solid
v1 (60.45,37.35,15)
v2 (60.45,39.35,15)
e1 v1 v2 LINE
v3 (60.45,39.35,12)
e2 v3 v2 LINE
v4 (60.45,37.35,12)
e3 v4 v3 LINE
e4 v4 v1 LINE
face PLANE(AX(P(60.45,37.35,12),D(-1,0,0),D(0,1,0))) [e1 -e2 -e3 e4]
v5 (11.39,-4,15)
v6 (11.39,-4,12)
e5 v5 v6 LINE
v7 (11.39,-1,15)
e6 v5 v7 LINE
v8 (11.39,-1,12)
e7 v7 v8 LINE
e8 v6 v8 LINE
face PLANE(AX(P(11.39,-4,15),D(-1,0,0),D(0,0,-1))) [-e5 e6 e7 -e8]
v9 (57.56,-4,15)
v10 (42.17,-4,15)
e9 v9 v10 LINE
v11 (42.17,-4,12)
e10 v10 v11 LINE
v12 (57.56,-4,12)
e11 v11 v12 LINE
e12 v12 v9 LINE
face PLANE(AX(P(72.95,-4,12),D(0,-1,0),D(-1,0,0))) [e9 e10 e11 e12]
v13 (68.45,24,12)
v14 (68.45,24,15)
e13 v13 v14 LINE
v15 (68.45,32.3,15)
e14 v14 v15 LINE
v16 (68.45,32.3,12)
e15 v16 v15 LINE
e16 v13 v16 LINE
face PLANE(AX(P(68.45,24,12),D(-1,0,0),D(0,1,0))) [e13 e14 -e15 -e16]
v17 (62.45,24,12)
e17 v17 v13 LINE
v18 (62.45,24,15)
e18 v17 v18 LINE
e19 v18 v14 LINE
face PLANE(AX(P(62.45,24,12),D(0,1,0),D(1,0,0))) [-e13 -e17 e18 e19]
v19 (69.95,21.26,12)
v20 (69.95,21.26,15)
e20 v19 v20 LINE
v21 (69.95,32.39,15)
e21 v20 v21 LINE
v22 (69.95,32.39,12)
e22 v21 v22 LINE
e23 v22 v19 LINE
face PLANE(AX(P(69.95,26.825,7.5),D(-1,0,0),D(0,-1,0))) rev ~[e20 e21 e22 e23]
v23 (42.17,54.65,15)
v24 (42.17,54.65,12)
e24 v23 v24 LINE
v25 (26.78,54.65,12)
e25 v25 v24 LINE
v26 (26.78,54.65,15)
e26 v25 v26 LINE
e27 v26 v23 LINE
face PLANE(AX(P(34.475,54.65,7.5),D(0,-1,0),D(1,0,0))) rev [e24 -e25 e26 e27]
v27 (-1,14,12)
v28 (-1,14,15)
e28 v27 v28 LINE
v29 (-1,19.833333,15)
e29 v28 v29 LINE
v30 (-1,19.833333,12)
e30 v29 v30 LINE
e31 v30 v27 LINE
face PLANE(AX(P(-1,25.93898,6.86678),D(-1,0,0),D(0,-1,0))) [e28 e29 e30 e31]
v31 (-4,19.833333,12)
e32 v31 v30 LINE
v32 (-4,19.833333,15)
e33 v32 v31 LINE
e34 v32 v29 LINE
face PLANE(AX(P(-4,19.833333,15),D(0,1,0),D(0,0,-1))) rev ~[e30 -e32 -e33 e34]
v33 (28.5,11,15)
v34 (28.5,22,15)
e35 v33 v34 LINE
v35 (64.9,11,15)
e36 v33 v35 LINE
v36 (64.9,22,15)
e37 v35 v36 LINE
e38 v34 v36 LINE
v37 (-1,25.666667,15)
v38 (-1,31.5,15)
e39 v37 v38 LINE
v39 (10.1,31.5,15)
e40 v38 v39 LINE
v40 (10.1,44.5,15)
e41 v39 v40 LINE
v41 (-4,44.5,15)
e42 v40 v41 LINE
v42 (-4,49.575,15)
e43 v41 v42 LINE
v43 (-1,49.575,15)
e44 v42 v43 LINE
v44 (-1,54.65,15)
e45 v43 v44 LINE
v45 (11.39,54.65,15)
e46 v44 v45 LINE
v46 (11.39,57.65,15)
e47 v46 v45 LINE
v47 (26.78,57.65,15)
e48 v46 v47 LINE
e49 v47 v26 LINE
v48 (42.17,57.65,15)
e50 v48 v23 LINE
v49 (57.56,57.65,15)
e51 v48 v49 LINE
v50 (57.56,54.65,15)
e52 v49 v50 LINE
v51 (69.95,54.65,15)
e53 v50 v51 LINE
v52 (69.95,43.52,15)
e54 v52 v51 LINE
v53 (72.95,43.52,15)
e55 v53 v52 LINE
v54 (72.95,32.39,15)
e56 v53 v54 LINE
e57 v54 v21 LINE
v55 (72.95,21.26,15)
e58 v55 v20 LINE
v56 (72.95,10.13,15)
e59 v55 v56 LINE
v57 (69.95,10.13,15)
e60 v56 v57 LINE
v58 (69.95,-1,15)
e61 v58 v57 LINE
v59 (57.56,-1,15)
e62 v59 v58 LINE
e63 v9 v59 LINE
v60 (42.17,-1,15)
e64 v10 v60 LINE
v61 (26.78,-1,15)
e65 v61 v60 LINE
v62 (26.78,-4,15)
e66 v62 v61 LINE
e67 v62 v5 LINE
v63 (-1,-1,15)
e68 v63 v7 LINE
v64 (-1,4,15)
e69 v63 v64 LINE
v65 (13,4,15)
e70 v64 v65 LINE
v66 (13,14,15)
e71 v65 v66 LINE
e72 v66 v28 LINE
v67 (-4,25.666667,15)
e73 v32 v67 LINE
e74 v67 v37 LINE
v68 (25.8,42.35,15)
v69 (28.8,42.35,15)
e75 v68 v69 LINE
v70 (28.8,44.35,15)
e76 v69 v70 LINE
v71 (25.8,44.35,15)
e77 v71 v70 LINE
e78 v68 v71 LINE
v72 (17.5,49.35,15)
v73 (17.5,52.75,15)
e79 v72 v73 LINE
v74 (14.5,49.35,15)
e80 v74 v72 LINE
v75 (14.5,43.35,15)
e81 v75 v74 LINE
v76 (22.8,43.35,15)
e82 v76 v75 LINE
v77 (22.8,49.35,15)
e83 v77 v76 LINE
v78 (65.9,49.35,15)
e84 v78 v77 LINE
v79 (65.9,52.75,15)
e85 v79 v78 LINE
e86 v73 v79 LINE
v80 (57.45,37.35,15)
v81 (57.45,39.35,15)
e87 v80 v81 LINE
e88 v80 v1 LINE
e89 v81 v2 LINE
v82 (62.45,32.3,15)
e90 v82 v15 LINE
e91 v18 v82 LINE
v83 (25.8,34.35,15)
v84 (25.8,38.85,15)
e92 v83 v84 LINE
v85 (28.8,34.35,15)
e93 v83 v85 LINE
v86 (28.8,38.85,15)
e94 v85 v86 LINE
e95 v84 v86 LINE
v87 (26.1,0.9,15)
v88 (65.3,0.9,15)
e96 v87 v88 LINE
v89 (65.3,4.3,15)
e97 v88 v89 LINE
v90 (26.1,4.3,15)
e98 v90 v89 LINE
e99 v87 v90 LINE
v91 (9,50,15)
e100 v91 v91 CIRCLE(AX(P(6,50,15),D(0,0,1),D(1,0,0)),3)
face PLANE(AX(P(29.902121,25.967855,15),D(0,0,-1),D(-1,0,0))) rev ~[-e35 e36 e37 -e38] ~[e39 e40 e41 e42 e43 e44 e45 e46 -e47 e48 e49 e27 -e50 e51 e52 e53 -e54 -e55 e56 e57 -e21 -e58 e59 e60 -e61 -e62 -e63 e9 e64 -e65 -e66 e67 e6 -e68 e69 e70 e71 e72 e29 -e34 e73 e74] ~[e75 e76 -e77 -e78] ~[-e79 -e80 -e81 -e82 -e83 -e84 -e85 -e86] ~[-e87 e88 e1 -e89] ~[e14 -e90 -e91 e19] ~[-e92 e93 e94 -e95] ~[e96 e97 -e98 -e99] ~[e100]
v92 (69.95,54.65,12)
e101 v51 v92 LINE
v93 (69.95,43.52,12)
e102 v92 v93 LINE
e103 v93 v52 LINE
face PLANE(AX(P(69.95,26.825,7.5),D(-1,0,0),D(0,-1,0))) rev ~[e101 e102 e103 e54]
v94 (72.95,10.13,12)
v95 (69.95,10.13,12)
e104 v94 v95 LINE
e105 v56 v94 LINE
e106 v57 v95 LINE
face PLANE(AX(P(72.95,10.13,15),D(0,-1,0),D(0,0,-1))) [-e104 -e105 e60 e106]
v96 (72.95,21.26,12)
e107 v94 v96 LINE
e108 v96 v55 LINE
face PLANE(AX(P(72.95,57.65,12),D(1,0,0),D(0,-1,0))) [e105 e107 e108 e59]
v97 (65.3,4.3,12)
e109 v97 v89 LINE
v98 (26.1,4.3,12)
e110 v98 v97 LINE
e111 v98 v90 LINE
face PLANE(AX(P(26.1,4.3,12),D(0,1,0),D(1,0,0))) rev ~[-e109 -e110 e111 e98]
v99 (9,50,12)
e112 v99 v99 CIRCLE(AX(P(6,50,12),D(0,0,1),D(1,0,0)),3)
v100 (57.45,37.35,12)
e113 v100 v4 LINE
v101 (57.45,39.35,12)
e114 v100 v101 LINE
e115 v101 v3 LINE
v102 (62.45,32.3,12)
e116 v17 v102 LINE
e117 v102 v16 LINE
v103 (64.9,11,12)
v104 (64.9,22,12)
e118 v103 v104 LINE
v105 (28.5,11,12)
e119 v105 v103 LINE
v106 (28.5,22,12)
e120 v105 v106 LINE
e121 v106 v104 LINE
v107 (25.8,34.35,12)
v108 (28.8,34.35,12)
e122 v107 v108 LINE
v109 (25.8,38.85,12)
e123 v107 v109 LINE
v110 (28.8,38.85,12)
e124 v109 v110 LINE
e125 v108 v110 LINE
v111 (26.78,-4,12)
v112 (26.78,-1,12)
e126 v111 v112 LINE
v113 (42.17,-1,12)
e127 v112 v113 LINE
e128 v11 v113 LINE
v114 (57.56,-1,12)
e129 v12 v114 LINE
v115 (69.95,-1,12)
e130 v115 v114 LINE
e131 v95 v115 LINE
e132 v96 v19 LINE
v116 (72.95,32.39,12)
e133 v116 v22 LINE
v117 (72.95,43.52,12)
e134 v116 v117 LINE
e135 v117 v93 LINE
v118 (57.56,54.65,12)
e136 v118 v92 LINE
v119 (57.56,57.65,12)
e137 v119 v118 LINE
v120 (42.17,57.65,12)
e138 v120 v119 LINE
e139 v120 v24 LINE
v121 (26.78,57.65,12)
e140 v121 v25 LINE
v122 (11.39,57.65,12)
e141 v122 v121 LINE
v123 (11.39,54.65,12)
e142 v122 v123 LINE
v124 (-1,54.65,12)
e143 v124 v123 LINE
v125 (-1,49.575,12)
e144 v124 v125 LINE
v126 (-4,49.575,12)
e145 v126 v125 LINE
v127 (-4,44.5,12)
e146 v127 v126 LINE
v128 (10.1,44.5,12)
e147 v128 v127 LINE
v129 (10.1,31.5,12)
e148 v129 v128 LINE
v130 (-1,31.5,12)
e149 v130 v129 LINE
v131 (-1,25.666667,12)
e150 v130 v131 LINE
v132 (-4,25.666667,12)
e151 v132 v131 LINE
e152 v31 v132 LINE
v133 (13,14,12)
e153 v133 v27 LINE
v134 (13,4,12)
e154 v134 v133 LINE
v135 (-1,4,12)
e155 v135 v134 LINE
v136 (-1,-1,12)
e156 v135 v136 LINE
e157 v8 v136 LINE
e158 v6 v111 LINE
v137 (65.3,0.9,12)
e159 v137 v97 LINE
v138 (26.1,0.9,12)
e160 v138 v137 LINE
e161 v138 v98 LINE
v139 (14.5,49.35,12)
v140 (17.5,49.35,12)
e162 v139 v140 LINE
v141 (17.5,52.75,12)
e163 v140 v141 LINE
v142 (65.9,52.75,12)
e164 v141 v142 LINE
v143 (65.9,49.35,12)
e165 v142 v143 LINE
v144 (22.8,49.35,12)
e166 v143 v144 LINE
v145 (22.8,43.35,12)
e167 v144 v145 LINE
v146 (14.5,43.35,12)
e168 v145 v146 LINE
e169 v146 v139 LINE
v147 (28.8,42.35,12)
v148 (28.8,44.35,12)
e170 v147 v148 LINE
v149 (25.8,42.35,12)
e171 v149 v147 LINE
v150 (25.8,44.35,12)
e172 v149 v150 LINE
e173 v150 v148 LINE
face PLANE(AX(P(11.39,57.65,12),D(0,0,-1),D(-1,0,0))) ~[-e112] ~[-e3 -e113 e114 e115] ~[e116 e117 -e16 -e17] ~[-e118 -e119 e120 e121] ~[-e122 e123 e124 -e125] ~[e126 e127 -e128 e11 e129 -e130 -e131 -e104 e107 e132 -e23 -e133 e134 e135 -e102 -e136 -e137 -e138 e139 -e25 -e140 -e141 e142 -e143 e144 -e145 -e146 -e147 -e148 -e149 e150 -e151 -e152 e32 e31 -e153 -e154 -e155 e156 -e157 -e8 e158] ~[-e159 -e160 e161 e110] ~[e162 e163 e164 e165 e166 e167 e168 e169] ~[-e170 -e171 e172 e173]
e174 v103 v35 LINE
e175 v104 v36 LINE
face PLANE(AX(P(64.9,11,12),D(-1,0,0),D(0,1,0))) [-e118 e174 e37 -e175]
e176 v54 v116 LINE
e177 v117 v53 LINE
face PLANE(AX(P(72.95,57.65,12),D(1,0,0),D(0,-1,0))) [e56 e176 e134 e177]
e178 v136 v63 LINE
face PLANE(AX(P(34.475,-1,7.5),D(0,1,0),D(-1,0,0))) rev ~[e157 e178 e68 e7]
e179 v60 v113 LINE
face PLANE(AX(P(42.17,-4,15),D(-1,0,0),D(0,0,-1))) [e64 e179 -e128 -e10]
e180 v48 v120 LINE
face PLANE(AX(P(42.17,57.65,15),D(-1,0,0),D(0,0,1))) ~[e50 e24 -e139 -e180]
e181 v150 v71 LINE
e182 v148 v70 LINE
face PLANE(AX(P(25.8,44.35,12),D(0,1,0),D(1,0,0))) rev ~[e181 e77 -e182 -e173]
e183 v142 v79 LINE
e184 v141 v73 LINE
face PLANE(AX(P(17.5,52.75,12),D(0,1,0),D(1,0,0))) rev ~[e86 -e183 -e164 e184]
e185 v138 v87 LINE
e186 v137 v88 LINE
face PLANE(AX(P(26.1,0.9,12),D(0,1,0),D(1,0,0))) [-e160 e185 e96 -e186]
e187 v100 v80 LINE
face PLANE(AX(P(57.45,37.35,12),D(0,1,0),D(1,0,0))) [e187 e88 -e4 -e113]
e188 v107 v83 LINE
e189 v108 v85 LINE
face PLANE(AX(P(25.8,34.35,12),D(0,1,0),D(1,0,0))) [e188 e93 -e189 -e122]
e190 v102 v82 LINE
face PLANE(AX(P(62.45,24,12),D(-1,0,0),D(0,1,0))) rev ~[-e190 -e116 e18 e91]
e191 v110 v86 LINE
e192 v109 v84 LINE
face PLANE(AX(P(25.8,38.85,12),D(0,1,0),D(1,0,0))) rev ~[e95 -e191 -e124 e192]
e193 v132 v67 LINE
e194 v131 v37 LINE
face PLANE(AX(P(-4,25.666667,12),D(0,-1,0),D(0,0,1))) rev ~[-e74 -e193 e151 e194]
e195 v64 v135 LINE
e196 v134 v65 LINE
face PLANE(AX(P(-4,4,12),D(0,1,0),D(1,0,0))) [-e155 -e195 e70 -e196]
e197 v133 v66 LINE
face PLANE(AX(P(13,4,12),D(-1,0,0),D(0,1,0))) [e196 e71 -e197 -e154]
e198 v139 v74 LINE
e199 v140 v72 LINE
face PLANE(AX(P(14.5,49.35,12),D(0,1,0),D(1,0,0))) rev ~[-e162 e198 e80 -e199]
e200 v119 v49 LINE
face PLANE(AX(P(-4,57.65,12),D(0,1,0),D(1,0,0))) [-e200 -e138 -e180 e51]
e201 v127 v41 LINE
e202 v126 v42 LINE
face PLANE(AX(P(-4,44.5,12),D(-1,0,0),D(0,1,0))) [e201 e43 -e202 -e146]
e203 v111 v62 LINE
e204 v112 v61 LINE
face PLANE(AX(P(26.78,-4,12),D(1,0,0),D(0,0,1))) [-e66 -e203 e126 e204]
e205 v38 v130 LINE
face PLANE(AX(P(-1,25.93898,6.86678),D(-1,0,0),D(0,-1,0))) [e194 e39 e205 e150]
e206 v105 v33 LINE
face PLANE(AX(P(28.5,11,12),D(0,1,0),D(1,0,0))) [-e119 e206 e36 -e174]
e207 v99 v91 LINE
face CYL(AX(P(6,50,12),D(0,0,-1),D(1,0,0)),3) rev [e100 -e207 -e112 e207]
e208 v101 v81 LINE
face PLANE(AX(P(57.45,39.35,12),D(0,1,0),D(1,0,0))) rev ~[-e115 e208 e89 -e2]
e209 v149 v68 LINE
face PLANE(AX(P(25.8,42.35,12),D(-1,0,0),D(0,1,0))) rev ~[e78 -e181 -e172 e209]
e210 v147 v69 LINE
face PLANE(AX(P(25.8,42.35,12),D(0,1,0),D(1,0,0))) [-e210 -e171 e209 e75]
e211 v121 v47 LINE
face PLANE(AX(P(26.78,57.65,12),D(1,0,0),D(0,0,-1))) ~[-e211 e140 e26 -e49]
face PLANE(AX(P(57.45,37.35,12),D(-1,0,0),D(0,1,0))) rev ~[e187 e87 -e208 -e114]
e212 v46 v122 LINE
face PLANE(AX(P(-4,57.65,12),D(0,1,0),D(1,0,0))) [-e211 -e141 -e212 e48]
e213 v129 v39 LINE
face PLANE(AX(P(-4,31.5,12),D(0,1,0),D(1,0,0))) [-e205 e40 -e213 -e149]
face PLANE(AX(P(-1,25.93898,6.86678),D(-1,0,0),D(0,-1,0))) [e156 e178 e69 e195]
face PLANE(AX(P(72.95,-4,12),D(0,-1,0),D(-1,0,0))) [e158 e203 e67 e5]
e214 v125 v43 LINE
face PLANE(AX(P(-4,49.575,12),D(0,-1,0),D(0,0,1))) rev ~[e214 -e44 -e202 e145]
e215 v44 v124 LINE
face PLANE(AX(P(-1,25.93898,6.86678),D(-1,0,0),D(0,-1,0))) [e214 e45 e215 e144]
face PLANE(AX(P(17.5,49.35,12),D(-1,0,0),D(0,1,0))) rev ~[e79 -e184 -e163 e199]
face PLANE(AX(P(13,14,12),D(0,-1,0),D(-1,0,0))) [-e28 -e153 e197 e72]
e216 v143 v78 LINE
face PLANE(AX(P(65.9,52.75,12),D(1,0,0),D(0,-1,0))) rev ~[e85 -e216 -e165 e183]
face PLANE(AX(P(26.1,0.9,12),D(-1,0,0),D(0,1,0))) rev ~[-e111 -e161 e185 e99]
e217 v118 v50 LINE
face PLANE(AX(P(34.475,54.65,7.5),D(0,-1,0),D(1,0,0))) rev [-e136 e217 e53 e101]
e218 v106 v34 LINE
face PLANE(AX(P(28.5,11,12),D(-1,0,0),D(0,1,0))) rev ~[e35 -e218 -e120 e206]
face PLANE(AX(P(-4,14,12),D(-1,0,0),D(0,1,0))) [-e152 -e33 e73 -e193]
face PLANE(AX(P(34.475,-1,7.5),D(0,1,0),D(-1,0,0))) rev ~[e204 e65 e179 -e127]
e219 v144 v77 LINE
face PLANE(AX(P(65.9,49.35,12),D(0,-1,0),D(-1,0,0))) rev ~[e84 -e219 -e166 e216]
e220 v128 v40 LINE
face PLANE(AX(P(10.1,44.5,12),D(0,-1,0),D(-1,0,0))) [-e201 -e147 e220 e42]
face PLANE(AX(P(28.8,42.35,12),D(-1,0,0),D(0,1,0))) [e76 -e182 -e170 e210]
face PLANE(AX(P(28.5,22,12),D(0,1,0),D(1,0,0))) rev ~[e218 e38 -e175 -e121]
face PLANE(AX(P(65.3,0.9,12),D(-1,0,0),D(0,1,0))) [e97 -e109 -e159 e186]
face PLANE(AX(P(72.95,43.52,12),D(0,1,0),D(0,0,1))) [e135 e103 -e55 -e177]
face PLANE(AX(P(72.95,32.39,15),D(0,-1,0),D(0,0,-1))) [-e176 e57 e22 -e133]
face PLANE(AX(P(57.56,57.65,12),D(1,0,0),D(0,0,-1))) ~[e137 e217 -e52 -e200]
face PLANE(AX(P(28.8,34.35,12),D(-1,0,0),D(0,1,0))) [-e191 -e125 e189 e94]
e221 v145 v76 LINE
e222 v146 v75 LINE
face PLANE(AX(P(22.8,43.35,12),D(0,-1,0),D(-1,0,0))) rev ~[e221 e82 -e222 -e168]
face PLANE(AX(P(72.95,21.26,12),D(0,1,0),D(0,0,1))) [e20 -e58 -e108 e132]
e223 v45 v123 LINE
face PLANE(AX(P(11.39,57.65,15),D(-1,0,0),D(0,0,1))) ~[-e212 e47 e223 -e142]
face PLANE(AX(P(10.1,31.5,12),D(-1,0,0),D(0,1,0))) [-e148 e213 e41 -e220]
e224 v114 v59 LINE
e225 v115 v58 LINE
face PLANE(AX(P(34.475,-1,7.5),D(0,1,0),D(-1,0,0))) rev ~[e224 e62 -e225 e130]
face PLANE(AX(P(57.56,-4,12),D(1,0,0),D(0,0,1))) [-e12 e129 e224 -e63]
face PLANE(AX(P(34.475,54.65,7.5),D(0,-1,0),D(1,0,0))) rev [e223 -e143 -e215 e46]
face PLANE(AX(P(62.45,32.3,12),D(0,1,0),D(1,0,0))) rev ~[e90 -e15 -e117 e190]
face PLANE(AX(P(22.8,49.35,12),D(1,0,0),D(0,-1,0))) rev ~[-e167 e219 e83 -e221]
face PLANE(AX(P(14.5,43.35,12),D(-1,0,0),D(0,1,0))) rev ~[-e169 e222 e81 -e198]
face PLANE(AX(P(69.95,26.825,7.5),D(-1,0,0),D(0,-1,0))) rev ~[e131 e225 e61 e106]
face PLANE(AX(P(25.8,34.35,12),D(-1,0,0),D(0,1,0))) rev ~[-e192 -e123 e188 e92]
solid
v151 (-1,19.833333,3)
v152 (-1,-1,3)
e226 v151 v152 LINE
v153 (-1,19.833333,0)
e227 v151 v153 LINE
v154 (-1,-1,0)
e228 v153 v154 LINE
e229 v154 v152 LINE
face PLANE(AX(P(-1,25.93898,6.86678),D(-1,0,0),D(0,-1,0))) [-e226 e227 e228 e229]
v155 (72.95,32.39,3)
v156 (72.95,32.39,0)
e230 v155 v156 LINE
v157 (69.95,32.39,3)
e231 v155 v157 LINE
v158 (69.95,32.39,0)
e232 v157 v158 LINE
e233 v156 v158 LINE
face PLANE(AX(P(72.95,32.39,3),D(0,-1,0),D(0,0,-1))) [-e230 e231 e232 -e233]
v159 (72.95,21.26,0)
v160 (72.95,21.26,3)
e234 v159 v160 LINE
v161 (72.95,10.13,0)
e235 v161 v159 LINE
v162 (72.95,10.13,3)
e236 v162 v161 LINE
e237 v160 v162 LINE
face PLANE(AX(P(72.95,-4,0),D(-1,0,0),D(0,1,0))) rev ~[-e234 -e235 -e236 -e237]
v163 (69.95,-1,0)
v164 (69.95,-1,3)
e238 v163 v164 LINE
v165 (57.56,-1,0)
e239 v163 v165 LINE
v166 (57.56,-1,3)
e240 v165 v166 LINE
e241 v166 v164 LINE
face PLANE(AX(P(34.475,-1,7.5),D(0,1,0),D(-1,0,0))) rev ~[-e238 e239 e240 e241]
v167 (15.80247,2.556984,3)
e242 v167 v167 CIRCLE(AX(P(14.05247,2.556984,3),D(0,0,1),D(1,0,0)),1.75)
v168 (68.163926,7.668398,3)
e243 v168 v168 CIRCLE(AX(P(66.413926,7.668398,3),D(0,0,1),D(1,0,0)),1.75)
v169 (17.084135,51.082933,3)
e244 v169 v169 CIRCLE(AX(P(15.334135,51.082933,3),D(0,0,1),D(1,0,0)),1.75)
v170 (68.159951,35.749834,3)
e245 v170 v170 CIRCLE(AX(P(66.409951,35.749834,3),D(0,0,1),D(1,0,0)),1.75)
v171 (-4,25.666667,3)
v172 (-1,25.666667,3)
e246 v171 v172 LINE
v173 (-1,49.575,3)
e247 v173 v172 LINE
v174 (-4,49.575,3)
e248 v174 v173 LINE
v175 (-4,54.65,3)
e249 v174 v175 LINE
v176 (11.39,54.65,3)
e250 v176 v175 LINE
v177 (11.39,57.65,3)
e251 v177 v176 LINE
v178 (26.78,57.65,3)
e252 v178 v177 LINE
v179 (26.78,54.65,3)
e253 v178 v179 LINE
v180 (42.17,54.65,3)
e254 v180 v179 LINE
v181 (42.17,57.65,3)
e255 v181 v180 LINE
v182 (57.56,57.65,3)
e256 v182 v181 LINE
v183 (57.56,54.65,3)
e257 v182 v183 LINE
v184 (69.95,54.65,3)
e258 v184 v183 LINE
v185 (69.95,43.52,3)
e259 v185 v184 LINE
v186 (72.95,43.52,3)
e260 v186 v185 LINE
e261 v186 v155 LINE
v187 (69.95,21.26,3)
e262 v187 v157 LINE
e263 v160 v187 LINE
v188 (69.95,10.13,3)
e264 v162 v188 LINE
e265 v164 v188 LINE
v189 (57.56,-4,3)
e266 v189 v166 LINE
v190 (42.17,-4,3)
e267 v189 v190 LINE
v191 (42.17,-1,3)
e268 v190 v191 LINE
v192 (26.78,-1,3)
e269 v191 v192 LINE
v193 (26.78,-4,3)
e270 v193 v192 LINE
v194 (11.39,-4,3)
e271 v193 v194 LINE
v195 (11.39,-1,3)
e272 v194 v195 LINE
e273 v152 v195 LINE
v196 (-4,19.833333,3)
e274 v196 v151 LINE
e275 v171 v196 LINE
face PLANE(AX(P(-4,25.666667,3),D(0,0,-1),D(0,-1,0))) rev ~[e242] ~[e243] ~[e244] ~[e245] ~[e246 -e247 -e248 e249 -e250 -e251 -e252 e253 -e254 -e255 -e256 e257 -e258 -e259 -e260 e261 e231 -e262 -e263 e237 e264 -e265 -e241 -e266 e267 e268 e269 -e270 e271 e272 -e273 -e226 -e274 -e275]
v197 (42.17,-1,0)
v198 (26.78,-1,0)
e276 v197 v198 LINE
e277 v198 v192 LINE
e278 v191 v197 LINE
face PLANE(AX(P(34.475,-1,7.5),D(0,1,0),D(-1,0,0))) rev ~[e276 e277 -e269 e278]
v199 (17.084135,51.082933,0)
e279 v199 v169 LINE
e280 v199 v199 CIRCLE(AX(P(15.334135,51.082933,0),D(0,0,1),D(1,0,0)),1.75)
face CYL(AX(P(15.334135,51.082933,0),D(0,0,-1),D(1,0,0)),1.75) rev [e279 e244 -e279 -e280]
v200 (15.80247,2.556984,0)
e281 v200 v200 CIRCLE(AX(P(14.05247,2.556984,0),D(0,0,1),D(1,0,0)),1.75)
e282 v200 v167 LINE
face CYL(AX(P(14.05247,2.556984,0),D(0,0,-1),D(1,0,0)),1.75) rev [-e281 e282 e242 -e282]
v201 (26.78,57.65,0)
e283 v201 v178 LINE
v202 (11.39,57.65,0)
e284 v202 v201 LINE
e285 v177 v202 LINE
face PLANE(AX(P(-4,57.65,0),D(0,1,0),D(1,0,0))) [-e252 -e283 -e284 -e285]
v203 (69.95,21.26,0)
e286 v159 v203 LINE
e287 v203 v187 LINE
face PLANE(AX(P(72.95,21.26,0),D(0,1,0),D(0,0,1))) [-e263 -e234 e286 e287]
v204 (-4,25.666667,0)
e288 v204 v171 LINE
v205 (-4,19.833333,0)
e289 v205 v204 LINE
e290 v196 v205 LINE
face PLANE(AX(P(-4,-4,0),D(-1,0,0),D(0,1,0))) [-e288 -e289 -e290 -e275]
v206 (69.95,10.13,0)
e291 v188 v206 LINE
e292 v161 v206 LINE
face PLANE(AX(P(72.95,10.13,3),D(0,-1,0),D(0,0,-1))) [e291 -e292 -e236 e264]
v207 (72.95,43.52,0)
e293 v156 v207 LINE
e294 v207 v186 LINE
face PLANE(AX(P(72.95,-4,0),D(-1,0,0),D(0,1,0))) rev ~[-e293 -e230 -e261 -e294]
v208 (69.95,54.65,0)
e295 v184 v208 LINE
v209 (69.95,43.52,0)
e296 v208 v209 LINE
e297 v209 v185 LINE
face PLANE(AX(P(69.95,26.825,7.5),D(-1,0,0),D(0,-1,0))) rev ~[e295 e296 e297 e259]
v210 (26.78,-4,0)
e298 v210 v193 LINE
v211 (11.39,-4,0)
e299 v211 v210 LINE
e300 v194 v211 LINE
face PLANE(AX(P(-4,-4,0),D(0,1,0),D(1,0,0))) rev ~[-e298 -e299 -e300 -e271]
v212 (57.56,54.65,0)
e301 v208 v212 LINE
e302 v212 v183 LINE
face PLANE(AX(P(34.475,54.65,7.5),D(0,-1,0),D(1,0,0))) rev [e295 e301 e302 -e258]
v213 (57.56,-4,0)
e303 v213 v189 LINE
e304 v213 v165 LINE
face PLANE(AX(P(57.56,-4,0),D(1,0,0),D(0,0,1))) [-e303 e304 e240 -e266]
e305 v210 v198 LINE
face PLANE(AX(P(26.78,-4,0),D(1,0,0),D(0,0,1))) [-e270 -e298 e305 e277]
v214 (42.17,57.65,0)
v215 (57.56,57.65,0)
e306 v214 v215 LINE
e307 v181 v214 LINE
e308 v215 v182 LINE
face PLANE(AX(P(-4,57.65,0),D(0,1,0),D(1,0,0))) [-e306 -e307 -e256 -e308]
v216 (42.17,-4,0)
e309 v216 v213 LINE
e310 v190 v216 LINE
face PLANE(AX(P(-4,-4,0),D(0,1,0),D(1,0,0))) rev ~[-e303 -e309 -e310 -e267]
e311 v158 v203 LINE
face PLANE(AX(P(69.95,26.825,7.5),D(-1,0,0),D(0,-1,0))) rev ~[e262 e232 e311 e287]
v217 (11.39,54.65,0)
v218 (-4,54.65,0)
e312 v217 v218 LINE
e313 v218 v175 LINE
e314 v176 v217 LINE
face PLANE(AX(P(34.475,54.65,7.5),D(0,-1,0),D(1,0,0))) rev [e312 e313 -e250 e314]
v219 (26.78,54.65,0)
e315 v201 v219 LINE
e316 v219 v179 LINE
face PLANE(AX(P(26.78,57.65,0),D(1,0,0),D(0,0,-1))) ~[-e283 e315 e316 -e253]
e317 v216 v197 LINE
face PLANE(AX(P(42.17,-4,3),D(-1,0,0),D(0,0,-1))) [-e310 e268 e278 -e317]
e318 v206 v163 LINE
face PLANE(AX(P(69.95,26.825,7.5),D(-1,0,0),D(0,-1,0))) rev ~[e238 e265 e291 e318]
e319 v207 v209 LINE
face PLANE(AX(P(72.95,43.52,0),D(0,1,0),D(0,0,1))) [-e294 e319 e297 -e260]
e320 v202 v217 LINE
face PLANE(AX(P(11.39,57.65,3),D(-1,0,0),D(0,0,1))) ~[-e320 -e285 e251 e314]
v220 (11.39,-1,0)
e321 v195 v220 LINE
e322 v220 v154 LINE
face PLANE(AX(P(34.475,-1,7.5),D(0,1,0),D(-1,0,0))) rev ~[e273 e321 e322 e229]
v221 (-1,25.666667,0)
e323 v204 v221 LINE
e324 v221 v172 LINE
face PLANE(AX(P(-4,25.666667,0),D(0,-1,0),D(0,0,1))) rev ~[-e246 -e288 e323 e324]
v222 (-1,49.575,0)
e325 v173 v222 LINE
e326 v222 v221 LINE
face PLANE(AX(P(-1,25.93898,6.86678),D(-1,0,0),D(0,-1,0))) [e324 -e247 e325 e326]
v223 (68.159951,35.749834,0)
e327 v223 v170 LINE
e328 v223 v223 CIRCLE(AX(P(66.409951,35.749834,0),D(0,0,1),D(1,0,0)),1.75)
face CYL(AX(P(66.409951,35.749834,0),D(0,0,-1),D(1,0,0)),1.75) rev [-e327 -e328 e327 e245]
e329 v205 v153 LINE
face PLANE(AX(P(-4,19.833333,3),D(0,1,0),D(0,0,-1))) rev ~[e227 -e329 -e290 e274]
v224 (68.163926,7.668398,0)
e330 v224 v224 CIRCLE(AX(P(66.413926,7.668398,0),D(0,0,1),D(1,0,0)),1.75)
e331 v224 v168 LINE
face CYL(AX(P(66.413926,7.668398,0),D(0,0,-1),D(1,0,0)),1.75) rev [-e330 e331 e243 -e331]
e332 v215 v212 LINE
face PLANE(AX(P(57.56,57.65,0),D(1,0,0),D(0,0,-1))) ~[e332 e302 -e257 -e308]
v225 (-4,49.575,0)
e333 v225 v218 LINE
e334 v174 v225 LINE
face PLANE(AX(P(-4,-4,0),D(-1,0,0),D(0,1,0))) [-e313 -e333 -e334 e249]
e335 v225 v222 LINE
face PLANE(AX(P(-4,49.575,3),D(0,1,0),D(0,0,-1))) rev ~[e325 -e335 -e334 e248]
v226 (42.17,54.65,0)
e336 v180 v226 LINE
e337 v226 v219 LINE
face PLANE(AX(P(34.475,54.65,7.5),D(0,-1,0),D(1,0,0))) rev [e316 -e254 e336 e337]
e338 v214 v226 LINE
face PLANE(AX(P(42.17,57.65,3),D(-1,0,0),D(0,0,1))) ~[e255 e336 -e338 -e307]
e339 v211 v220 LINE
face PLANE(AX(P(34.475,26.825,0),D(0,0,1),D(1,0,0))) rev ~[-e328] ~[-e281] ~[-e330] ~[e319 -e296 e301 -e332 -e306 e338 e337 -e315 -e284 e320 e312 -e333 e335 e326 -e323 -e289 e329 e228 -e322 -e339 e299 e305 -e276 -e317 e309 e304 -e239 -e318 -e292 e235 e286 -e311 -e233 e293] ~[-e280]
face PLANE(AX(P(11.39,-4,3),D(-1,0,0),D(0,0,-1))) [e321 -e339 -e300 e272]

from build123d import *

# Parameters (mm, degrees)
EXTRUDE004_DEPTH = 3
EXTRUDE003_DEPTH = 3
EXTRUDE002_DEPTH = 3
SKETCH001_R      = 3
SKETCH001_W      = 3
SKETCH001_H      = 2
SKETCH001_W_2    = 36.4
SKETCH001_H_2    = 11
SKETCH001_W_3    = 6
SKETCH001_H_3    = 8.3
SKETCH001_W_4    = 39.2
SKETCH001_H_4    = 3.4
SKETCH001_H_5    = 4.5
EXTRUDE001_DEPTH = 3
SKETCH_W         = 76.95
SKETCH_H         = 61.65
SKETCH_R         = 1.75
EXTRUDE_DEPTH    = 3


with BuildPart() as extrude004:
    # Sketch004 (on Face10 of Cut005) → Extrude004 (new body)
    with BuildSketch(Plane.YZ.offset(72.95)):
        Polygon((-1, 15), (10.13, 15), (10.13, 12), (21.26, 12), (21.26, 15), (32.39, 15), (32.39, 12), (43.52, 12), (43.52, 15), (54.65, 15), (54.65, 12), (57.65, 12), (57.65, 3), (54.65, 3), (54.65, 0), (43.52, 0), (43.52, 3), (32.39, 3), (32.39, 0), (21.26, 0), (21.26, 3), (10.13, 3), (10.13, 0), (-1, 0), (-1, 3), (-4, 3), (-4, 12), (-1, 12), align=None)
    extrude(amount=-EXTRUDE004_DEPTH)


with BuildPart() as frontal:
    # Sketch003 (on Face20 of Cut003) → Extrude003 (new body)
    with BuildSketch(Plane(origin=(-4, 0, 0), x_dir=(0, -1, 0), z_dir=(-1, 0, 0))):
        Polygon((-54.65, 15), (-54.65, 12), (-57.65, 12), (-57.65, 3), (-49.575, 3), (-49.575, 0), (-25.666667, 0), (-25.666667, 3), (-19.833333, 3), (-19.833333, 0), (1, 0), (1, 3), (4, 3), (4, 12), (1, 12), (1, 15), (-4, 15), (-4, 5), (-14, 5), (-14, 15), (-19.833333, 15), (-19.833333, 12), (-25.666667, 12), (-25.666667, 15), (-31.5, 15), (-31.5, 5), (-44.5, 5), (-44.5, 12), (-49.575, 12), (-49.575, 15), align=None)
    extrude(amount=-EXTRUDE003_DEPTH)


with BuildPart() as face_longitudinal:
    # Sketch002 (on Face3 of Extrude) → Extrude002 (new body)
    with BuildSketch(Plane.XZ.offset(4)):
        Polygon((-4, 15), (11.39, 15), (11.39, 12), (26.78, 12), (26.78, 15), (42.17, 15), (42.17, 12), (57.56, 12), (57.56, 15), (72.95, 15), (72.95, 12), (69.95, 12), (69.95, 3), (72.95, 3), (72.95, 0), (57.56, 0), (57.56, 3), (42.17, 3), (42.17, 0), (26.78, 0), (26.78, 3), (11.39, 3), (11.39, 0), (-4, 0), (-4, 3), (-1, 3), (-1, 12), (-4, 12), align=None)
    extrude(amount=-EXTRUDE002_DEPTH)


with BuildPart() as face_longitudinal_mirrored:
    # mirror: instance of Face Longitudinal
    add(face_longitudinal.part.mirror(Plane(origin=(71.95, 26.825, 12.5), x_dir=(1, 0, 0), z_dir=(0, 1, 0))))


with BuildPart() as cut006:
    # Sketch001 → Extrude001 (new body)
    with BuildSketch(Plane.XY):
        Polygon((-4, 57.65), (72.95, 57.65), (72.95, -4), (-4, -4), (-4, 4), (13, 4), (13, 14), (-4, 14), (-4, 31.5), (10.1, 31.5), (10.1, 44.5), (-4, 44.5), align=None)
        with Locations((6, 50)):
            Circle(SKETCH001_R, mode=Mode.SUBTRACT)
        with Locations((27.3, 43.35)):
            Rectangle(SKETCH001_W, SKETCH001_H, mode=Mode.SUBTRACT)
        with Locations((46.7, 16.5)):
            Rectangle(SKETCH001_W_2, SKETCH001_H_2, mode=Mode.SUBTRACT)
        with Locations((65.45, 28.15)):
            Rectangle(SKETCH001_W_3, SKETCH001_H_3, mode=Mode.SUBTRACT)
        with Locations((45.7, 2.6)):
            Rectangle(SKETCH001_W_4, SKETCH001_H_4, mode=Mode.SUBTRACT)
        Polygon((22.8, 43.35), (14.5, 43.35), (14.5, 49.35), (17.5, 49.35), (17.5, 52.75), (65.9, 52.75), (65.9, 49.35), (22.8, 49.35), align=None, mode=Mode.SUBTRACT)
        with Locations((27.3, 36.6)):
            Rectangle(SKETCH001_W, SKETCH001_H_5, mode=Mode.SUBTRACT)
        with Locations((58.95, 38.35)):
            Rectangle(SKETCH001_W, SKETCH001_H, mode=Mode.SUBTRACT)
    extrude(amount=EXTRUDE001_DEPTH)


with BuildPart() as cut006_1:
    # Extrude001 placement: moved
    add(cut006.part.moved(Location((0, 0, 12))))

    # Cut: cut Face Longitudinal
    add(face_longitudinal.part, mode=Mode.SUBTRACT)

    # Cut001: cut Face Longitudinal (mirrored)
    add(face_longitudinal_mirrored.part, mode=Mode.SUBTRACT)

    # Cut004: cut Frontal
    add(frontal.part, mode=Mode.SUBTRACT)

    # Cut006: cut Extrude004
    add(extrude004.part, mode=Mode.SUBTRACT)


with BuildPart() as cut007:
    # Sketch → Extrude (new body)
    with BuildSketch(Plane.XY):
        with Locations((34.475, 26.825)):
            Rectangle(SKETCH_W, SKETCH_H)
        with Locations((15.334135, 51.082933)):
            Circle(SKETCH_R, mode=Mode.SUBTRACT)
        with Locations((66.409951, 35.749834)):
            Circle(SKETCH_R, mode=Mode.SUBTRACT)
        with Locations((66.413926, 7.668398)):
            Circle(SKETCH_R, mode=Mode.SUBTRACT)
        with Locations((14.05247, 2.556984)):
            Circle(SKETCH_R, mode=Mode.SUBTRACT)
    extrude(amount=EXTRUDE_DEPTH)

    # Cut002: cut Face Longitudinal
    add(face_longitudinal.part, mode=Mode.SUBTRACT)

    # Cut003: cut Face Longitudinal (mirrored)
    add(face_longitudinal_mirrored.part, mode=Mode.SUBTRACT)

    # Cut005: cut Frontal
    add(frontal.part, mode=Mode.SUBTRACT)

    # Cut007: cut Extrude004
    add(extrude004.part, mode=Mode.SUBTRACT)


solid = Compound([cut006_1.part, cut007.part])
